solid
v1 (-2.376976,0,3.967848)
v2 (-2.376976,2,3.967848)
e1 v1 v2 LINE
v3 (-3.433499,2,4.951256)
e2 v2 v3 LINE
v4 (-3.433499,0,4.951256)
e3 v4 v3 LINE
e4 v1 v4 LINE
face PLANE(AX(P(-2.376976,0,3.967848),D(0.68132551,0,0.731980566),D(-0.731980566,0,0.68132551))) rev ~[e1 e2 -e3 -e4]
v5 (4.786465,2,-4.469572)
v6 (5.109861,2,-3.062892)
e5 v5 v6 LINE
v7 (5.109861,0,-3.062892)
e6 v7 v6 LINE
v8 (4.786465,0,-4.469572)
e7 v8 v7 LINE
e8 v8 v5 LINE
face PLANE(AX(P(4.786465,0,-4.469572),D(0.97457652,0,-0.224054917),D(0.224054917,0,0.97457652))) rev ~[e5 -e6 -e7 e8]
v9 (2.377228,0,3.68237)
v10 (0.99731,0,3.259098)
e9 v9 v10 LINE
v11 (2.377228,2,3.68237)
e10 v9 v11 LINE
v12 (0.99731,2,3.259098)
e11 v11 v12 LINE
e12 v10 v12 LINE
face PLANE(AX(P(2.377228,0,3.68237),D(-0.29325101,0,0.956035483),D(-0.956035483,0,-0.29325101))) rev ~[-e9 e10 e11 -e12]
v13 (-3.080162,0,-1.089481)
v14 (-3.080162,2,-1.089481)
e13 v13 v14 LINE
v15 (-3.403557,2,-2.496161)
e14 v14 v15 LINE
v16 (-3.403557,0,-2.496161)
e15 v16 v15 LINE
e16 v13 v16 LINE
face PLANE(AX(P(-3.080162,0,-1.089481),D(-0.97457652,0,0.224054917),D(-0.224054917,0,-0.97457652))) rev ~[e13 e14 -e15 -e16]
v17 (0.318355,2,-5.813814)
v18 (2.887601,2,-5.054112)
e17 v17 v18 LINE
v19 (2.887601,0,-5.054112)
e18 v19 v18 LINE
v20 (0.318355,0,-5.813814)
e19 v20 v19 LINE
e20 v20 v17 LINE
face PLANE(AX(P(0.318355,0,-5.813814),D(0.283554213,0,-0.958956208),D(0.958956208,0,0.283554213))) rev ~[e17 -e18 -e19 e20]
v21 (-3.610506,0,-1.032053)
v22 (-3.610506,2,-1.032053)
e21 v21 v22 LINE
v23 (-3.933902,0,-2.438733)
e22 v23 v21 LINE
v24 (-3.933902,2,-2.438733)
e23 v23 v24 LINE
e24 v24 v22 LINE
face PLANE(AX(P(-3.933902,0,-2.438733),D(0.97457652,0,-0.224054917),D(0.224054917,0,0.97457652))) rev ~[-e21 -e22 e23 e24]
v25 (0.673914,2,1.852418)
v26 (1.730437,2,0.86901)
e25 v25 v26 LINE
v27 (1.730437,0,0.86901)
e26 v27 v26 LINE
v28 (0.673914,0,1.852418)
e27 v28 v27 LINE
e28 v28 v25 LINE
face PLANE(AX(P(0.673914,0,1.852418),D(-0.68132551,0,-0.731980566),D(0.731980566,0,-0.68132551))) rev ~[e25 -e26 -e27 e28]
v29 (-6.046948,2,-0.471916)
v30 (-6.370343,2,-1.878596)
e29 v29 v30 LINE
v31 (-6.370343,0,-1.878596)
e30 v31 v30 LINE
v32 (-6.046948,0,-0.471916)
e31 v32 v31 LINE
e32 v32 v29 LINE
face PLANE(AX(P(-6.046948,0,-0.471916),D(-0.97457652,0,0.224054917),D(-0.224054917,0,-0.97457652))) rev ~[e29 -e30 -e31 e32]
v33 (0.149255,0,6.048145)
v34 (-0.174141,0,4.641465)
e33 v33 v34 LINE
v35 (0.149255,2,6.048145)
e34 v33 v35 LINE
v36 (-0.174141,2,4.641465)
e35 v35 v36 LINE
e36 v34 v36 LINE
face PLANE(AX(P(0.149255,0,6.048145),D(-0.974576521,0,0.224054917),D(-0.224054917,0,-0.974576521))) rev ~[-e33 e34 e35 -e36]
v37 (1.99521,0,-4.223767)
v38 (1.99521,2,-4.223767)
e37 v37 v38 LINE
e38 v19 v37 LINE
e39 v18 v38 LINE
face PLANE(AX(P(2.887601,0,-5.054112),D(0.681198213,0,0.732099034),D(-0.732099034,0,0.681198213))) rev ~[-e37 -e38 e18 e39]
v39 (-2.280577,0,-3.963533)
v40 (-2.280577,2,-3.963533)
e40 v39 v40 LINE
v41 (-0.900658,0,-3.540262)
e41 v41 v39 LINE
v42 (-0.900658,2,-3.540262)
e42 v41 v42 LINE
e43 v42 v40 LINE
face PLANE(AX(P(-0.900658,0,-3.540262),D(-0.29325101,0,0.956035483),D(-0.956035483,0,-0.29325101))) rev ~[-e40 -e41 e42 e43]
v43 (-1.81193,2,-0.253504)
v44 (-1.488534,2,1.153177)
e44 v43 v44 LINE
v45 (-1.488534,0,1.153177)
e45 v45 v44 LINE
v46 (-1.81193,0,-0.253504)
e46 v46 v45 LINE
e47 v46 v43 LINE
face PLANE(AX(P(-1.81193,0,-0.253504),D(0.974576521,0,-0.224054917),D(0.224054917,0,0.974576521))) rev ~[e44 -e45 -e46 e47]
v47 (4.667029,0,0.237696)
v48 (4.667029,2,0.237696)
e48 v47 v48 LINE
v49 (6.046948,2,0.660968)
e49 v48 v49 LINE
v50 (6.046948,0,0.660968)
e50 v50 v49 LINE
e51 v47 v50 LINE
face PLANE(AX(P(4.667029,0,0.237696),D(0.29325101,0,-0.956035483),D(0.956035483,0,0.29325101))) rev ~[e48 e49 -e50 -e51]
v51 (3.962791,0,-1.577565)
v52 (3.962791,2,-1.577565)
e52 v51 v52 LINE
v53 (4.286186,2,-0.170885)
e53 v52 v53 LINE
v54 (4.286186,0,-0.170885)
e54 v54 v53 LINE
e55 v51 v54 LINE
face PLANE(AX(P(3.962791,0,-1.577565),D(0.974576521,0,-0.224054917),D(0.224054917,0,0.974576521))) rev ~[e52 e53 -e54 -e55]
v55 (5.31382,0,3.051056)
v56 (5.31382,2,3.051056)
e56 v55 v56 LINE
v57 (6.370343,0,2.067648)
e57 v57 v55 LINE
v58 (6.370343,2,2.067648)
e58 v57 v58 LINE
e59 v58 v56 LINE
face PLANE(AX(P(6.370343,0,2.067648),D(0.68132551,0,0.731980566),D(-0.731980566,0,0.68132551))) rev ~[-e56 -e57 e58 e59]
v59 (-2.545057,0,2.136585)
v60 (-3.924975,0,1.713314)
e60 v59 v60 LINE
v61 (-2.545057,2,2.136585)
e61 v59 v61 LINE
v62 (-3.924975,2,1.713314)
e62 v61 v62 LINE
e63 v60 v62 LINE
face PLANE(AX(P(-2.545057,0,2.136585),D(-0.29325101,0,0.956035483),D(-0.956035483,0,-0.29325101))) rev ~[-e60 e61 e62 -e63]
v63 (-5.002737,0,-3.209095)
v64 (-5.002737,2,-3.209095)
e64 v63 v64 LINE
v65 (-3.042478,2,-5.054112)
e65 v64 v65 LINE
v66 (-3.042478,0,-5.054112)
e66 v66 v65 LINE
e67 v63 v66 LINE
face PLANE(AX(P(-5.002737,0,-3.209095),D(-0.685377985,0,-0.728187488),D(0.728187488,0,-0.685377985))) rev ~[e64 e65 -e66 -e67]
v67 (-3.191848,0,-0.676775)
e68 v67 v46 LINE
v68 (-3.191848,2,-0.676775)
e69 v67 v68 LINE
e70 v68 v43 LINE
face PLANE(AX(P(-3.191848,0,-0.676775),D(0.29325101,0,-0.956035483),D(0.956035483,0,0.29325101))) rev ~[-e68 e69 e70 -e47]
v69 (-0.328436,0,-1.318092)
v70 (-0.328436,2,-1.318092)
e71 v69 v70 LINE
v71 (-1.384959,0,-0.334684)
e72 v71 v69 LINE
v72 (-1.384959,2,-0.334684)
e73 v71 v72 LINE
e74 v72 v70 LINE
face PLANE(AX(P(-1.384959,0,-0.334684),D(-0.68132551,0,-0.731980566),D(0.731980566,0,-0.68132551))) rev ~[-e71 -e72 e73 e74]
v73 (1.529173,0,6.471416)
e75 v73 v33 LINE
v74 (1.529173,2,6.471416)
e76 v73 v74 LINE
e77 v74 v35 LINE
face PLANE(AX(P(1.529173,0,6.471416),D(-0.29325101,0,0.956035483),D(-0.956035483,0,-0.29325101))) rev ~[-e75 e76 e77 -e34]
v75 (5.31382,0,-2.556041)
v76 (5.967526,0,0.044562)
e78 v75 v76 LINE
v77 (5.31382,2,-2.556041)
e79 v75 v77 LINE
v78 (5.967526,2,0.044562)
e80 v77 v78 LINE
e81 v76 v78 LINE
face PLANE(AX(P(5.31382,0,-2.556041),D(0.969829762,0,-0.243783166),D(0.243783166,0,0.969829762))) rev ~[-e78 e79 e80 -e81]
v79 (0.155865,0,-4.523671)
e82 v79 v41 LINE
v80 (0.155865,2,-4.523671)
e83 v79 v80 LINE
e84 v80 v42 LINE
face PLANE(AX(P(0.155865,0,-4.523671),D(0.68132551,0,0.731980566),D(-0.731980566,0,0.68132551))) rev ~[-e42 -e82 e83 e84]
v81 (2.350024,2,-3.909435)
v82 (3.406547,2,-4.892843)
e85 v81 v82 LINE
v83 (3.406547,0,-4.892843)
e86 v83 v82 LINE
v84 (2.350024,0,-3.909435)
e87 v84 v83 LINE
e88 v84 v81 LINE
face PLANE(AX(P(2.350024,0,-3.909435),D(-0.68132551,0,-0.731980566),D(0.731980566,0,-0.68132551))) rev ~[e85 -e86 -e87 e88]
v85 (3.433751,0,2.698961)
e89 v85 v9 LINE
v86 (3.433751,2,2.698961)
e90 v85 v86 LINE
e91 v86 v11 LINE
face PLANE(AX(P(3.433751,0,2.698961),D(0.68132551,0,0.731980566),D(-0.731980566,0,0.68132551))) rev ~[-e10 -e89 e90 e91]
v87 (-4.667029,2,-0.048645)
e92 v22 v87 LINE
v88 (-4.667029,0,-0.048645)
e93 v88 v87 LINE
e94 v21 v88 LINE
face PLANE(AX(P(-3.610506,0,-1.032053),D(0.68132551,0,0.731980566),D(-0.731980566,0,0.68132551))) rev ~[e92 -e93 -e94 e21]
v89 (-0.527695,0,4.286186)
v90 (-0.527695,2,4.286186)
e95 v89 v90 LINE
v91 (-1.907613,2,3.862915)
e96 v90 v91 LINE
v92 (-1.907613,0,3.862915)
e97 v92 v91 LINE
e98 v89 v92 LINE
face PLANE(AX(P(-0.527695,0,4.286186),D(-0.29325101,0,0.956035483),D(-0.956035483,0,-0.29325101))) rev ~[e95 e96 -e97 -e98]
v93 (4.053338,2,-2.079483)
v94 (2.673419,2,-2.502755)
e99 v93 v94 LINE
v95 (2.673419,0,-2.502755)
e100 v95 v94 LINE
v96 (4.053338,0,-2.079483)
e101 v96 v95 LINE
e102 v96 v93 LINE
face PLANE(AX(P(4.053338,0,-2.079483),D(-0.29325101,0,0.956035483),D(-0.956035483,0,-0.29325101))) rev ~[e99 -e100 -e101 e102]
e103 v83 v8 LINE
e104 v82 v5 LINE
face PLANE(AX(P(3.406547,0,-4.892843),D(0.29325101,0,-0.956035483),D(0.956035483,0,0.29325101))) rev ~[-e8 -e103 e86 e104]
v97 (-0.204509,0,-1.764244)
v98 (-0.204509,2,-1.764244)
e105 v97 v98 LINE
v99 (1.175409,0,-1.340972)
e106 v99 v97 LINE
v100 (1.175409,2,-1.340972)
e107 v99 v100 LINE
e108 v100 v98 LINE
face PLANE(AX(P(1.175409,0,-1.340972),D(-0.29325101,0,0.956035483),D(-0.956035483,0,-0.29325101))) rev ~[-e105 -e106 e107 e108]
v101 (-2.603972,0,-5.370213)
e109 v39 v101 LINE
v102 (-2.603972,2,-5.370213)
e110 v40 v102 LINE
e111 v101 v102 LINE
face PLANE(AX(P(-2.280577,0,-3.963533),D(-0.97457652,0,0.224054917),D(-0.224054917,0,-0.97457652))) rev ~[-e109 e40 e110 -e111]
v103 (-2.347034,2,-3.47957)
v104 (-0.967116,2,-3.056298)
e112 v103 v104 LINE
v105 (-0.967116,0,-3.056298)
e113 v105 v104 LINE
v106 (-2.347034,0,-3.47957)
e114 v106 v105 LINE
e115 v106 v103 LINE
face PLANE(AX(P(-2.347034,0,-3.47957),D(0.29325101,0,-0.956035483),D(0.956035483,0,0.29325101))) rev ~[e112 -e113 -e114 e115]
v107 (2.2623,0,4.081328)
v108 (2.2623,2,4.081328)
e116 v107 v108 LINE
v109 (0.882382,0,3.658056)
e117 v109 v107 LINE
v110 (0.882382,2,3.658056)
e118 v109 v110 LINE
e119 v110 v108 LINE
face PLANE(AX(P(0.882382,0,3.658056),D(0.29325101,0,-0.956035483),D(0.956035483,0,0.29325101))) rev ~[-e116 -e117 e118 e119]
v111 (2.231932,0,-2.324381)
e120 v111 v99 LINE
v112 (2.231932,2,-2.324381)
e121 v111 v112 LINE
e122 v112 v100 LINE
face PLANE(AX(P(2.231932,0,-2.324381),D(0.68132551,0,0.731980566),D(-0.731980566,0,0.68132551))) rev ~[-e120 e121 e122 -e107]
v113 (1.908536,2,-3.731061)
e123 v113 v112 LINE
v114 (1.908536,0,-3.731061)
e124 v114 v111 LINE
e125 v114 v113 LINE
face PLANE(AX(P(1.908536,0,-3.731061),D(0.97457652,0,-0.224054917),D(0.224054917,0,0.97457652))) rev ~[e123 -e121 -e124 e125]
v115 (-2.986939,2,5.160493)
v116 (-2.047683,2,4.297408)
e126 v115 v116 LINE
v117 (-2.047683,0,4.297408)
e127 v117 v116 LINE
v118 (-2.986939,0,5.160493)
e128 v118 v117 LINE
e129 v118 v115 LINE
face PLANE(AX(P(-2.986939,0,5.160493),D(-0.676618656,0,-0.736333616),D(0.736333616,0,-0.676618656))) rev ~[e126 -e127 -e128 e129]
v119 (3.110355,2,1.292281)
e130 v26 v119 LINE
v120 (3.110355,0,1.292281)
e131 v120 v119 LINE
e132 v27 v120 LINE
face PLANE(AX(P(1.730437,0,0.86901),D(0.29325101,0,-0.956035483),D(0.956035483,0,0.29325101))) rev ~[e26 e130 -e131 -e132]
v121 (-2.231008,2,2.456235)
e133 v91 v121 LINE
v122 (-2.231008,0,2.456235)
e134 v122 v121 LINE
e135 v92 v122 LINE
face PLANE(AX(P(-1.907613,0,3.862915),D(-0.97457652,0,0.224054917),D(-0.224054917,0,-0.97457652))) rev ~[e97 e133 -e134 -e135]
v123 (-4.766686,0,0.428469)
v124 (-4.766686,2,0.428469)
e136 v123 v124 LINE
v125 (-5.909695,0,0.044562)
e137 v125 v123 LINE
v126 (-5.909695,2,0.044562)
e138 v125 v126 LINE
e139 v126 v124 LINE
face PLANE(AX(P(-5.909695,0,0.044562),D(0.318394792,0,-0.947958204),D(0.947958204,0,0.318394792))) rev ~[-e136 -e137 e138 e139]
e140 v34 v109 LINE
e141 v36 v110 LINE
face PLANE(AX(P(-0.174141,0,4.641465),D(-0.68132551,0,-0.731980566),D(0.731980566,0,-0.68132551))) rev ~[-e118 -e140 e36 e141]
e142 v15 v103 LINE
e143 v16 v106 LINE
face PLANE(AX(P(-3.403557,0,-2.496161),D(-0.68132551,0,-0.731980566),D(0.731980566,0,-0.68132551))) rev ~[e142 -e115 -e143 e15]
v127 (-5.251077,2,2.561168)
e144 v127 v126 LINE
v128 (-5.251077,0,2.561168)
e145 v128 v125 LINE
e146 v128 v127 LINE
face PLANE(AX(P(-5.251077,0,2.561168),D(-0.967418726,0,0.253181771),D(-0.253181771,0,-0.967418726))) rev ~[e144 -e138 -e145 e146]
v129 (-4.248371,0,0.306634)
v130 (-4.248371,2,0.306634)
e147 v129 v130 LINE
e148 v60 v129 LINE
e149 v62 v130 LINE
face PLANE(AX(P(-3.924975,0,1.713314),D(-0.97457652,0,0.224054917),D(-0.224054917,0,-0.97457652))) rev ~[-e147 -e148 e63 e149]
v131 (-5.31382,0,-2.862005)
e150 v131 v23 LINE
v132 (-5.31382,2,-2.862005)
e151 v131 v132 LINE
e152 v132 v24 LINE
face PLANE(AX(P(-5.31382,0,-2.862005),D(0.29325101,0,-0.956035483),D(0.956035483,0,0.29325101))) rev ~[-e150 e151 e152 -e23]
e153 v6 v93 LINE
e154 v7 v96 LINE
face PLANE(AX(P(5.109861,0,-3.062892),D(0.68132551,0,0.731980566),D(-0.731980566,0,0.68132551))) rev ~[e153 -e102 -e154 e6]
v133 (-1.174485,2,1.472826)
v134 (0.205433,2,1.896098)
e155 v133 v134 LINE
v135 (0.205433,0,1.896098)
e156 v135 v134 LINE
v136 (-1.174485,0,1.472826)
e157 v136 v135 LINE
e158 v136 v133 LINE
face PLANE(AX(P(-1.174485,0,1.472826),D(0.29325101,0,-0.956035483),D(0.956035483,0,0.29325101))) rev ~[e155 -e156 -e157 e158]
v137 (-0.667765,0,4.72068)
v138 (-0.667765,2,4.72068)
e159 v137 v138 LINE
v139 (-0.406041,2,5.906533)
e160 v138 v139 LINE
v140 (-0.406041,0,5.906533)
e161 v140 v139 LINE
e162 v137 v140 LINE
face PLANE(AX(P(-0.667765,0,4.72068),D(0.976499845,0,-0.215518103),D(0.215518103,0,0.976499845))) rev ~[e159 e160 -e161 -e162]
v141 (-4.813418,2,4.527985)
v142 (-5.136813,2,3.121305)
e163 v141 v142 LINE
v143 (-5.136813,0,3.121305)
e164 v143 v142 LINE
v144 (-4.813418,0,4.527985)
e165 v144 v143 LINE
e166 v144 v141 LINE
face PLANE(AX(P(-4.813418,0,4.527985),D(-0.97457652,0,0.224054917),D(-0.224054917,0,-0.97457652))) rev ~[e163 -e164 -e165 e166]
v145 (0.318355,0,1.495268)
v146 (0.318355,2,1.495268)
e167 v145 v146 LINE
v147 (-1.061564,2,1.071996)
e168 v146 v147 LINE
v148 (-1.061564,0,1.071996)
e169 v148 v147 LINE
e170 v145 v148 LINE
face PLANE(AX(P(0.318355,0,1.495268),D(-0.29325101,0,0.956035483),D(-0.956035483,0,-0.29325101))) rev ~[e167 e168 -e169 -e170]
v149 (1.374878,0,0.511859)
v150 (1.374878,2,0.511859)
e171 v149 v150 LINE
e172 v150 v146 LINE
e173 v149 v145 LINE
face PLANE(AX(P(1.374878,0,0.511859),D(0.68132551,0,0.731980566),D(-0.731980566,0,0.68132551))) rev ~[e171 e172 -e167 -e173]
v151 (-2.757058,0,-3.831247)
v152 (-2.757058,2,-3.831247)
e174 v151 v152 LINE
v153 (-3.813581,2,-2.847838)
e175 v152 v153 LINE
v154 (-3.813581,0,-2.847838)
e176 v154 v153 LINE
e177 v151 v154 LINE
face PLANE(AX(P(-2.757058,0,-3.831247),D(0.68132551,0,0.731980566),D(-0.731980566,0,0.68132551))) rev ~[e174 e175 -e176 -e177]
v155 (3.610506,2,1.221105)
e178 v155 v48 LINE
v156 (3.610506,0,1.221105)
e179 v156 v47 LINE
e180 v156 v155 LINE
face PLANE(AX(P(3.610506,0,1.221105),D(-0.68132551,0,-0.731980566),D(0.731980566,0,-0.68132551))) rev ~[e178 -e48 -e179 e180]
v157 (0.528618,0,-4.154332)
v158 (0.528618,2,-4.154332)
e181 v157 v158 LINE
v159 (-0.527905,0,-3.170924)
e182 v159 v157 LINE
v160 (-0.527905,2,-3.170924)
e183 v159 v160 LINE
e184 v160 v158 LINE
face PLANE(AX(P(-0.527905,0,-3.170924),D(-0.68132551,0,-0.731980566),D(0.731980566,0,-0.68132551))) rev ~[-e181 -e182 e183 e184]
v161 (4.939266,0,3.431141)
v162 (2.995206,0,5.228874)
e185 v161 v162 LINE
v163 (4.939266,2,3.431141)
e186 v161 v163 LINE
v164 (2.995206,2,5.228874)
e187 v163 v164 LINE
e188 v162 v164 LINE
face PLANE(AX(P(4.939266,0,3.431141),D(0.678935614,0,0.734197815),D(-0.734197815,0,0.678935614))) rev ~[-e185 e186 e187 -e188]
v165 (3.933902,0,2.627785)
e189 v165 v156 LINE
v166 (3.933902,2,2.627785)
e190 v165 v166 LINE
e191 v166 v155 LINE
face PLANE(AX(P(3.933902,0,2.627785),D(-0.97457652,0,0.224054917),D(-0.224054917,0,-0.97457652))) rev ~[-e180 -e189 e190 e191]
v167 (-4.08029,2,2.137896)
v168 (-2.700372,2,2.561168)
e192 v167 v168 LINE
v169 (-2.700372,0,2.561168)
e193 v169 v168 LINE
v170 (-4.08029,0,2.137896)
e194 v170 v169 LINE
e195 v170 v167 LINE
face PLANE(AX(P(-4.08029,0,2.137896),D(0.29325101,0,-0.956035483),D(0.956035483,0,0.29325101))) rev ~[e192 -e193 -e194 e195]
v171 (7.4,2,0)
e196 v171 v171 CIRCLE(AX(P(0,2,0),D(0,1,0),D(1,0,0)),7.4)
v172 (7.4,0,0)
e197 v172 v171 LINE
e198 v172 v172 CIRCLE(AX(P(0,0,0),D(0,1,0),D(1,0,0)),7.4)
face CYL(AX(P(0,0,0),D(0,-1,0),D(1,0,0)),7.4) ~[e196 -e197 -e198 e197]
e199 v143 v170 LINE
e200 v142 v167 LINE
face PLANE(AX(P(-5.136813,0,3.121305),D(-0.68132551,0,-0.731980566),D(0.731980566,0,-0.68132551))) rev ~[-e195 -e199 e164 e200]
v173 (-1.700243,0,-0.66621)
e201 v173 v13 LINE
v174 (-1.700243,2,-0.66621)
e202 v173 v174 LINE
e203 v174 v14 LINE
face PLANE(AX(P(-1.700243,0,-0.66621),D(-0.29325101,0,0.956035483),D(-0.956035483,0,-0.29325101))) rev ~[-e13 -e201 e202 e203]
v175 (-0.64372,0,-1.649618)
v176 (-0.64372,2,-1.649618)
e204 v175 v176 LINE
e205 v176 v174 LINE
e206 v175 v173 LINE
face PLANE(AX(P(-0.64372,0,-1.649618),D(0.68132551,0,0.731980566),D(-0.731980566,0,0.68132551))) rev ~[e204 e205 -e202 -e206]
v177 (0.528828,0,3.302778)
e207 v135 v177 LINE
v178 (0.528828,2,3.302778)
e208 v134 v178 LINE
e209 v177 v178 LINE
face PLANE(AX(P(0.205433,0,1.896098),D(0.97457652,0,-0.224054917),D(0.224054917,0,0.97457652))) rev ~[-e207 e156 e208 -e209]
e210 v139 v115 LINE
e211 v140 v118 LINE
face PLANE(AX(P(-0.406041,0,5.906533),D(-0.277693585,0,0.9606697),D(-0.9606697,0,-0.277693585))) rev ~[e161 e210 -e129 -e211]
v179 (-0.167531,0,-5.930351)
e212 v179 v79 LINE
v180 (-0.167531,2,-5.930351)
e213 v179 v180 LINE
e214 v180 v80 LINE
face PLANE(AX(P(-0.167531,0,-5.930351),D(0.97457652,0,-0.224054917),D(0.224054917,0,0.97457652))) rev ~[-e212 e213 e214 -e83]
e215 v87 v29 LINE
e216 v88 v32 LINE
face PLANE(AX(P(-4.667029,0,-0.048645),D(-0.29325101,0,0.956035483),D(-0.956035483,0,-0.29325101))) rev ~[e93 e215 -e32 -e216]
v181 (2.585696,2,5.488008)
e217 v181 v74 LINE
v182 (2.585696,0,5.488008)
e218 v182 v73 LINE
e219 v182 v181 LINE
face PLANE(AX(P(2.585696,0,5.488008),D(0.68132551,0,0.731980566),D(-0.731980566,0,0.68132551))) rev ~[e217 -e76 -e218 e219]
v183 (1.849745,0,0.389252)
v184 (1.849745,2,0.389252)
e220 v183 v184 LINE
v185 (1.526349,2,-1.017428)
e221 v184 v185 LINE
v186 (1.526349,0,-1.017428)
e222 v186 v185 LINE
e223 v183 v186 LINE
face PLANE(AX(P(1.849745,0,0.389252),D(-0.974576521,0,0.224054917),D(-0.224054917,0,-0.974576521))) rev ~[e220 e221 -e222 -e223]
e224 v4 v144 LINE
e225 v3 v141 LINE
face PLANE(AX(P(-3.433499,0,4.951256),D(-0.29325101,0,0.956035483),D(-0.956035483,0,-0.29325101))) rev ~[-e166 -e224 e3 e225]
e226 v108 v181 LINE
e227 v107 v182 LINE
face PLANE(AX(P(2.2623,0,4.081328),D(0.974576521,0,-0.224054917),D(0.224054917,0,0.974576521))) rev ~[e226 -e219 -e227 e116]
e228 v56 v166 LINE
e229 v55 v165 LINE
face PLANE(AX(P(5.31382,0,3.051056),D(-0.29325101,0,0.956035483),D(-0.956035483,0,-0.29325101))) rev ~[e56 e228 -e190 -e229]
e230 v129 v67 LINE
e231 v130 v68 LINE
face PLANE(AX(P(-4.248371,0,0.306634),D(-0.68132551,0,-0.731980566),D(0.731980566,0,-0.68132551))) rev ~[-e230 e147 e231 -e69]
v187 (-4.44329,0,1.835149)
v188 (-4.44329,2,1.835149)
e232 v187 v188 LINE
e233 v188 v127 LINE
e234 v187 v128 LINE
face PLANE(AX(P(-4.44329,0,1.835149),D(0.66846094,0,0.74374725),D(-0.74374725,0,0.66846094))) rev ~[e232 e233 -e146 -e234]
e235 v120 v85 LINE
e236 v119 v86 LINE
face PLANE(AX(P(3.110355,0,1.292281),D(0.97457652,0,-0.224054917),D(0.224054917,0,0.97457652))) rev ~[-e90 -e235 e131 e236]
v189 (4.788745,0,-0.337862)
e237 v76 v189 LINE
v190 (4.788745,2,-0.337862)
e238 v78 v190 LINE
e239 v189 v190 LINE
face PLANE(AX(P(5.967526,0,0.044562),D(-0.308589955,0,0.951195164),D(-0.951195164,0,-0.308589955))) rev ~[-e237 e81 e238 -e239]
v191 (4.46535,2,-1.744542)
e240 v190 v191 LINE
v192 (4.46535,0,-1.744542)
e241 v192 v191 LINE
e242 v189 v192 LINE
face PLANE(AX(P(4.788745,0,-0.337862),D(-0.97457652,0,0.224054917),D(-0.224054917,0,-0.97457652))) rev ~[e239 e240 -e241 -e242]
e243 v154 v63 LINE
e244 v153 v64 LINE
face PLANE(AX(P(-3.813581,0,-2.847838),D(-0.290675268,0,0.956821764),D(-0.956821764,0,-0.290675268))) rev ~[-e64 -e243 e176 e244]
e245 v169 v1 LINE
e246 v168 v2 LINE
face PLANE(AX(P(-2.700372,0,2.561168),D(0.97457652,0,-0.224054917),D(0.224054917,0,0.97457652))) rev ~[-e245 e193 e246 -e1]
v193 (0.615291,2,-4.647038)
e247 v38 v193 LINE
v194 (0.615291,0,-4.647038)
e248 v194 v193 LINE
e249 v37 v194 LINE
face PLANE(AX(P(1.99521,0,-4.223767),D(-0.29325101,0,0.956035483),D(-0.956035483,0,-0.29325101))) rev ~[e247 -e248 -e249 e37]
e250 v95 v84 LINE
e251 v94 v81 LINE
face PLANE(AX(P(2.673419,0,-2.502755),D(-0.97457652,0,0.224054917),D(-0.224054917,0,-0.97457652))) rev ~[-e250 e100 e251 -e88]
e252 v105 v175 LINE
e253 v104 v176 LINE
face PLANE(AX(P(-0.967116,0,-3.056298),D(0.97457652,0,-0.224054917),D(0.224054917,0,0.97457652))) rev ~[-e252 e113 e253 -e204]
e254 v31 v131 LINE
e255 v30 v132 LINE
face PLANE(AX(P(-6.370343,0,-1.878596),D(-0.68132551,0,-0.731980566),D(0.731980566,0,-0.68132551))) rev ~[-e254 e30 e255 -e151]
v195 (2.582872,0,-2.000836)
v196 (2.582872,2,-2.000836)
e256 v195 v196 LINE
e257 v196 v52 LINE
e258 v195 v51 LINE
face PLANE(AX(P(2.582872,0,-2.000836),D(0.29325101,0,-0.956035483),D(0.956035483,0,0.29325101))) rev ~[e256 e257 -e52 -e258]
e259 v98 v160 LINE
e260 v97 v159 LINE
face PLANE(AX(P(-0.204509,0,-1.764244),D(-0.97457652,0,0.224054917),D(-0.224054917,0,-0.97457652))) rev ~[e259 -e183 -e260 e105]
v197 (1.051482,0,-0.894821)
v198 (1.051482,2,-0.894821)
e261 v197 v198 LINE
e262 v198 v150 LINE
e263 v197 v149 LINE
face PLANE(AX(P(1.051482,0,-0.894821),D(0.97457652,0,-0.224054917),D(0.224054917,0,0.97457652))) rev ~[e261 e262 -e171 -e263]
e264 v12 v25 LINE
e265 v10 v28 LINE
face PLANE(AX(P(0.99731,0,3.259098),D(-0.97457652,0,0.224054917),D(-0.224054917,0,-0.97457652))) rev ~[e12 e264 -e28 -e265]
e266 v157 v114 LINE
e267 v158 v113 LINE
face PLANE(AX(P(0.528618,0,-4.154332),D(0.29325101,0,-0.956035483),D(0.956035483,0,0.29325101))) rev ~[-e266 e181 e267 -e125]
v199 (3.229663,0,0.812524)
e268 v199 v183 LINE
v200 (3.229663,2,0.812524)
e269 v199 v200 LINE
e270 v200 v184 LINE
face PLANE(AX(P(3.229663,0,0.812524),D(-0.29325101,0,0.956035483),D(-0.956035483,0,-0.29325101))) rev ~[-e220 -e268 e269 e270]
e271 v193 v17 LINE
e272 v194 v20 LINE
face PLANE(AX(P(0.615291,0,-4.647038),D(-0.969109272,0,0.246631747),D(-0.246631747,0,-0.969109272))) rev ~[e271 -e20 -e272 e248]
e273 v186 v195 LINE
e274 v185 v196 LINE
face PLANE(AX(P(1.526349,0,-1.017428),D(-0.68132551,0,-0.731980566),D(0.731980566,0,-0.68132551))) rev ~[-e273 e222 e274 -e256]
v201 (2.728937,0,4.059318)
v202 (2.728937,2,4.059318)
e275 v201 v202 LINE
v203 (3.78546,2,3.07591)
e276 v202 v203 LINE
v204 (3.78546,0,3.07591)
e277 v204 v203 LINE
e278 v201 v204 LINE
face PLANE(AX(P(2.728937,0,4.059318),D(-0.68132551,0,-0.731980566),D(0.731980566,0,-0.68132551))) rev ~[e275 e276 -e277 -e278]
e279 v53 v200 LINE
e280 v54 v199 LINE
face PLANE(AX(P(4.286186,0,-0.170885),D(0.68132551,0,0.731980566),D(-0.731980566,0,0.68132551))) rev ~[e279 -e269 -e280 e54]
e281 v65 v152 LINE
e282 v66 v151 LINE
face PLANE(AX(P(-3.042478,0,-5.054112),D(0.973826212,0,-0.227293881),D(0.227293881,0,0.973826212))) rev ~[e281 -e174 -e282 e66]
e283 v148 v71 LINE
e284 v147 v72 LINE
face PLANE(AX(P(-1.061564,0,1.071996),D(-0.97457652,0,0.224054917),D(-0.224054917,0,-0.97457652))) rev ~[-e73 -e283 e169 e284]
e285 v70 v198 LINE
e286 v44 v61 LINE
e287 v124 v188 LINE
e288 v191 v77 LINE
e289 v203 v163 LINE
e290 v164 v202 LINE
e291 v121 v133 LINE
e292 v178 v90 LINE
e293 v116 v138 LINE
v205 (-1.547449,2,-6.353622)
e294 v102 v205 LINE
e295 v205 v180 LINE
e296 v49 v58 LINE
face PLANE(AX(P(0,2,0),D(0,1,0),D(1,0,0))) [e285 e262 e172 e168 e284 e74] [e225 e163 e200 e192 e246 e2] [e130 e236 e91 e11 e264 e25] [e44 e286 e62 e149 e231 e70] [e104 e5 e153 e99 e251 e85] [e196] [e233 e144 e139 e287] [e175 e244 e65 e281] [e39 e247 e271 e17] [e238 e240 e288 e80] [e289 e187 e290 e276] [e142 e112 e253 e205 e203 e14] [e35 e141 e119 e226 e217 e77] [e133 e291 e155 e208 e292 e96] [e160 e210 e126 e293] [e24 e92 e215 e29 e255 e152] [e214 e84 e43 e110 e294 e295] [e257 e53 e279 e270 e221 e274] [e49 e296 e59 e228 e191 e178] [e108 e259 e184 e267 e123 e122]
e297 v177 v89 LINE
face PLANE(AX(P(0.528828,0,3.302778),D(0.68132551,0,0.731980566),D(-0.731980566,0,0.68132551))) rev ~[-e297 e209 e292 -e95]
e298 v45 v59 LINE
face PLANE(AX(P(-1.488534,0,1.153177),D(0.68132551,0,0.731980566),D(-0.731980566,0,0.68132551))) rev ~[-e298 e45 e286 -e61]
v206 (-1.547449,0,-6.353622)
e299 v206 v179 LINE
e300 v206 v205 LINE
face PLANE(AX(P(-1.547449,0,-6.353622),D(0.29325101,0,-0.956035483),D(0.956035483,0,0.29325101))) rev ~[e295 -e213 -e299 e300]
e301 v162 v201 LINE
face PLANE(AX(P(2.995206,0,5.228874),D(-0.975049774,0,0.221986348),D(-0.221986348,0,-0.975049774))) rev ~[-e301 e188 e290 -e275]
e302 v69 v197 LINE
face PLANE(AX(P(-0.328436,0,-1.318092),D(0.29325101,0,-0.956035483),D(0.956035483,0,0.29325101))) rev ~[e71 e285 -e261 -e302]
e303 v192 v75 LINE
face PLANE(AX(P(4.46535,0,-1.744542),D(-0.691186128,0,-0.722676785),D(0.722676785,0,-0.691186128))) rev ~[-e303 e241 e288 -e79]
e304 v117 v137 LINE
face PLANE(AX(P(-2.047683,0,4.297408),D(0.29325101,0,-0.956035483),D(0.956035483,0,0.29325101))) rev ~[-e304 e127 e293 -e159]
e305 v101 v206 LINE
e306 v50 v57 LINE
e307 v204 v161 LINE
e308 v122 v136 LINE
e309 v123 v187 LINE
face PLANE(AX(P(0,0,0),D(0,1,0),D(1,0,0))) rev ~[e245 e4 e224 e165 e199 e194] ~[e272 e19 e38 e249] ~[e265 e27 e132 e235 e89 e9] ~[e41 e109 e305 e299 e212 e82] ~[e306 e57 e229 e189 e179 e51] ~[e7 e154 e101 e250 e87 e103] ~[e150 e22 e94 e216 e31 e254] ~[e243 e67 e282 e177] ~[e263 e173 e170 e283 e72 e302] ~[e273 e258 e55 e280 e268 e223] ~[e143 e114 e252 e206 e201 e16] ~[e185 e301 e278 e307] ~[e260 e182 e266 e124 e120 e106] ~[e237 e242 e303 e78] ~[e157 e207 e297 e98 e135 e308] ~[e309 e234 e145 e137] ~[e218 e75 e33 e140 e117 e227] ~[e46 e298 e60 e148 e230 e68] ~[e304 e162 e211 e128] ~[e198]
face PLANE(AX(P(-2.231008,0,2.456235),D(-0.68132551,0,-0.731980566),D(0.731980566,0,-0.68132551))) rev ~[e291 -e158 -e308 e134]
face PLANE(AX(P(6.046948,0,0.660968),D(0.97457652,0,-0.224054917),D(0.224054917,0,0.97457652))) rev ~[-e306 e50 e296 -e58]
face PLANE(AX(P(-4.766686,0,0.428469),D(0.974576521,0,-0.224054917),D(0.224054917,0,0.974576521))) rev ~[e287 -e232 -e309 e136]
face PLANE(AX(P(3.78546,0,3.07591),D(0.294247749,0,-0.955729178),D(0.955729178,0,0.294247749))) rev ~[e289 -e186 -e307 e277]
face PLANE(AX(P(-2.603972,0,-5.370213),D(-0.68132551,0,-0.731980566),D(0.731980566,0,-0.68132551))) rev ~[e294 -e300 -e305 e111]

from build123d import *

# Parameters (mm, degrees)
SKIZZE1_R                       = 7.4
AUFSATZ_LINEAR_AUSTRAGEN2_DEPTH = 2
SCHNITT_LINEAR_AUSTRAGEN2_DEPTH = 2


with BuildPart() as part:
    # Skizze1 → Aufsatz-Linear austragen2 (new body)
    with BuildSketch(Plane(origin=(0, 0, 0), x_dir=(1, 0, 0), z_dir=(0, 1, 0))):
        Circle(SKIZZE1_R)
    extrude(amount=AUFSATZ_LINEAR_AUSTRAGEN2_DEPTH)

    # Skizze3 → Schnitt-Linear austragen2 (cut)
    with BuildSketch(Plane.XZ):
        Polygon((3.110355434, 1.292281092), (3.433750851, 2.698961133), (2.377227909, 3.6823698), (0.99730955, 3.259098426), (0.673914133, 1.852418385), (1.730437075, 0.869009718), align=None)
        Polygon((1.051482334, -0.894820995), (1.374877751, 0.511859046), (0.318354809, 1.495267713), (-1.06156355, 1.071996339), (-1.384958967, -0.334683702), (-0.328436025, -1.318092369), align=None)
        Polygon((3.962790655, -1.57756505), (4.286186071, -0.170885009), (3.229663129, 0.812523658), (1.84974477, 0.389252284), (1.526349354, -1.017427757), (2.582872296, -2.000836424), align=None)
        Polygon((1.908536497, -3.73106102), (2.231931914, -2.324380979), (1.175408972, -1.340972312), (-0.204509387, -1.764243686), (-0.527904804, -3.170923727), (0.528618138, -4.154332394), align=None)
        Polygon((-0.967115848, -3.0562984), (-0.643720431, -1.649618359), (-1.700243373, -0.666209692), (-3.080161732, -1.089481066), (-3.403557149, -2.496161107), (-2.347034207, -3.479569774), align=None)
        Polygon((-1.811929532, -0.253503523), (-1.488534116, 1.153176518), (-2.545057058, 2.136585185), (-3.924975416, 1.713313811), (-4.248370833, 0.30663377), (-3.191847891, -0.676774897), align=None)
        Polygon((0.205432908, 1.896097632), (0.528828325, 3.302777673), (-0.527694618, 4.28618634), (-1.907612976, 3.862914966), (-2.231008393, 2.456234925), (-1.174485451, 1.472826258), align=None)
        Polygon((6.04694768, 0.660967687), (6.370343097, 2.067647728), (5.313820155, 3.051056395), (3.933901796, 2.627785021), (3.610506379, 1.22110498), (4.667029321, 0.237696313), align=None)
        Polygon((4.786465264, -4.469572088), (5.109860681, -3.062892047), (4.053337739, -2.07948338), (2.67341938, -2.502754754), (2.350023963, -3.909434795), (3.406546905, -4.892843462), align=None)
        Polygon((-0.16753074, -5.930350774), (0.155864677, -4.523670733), (-0.900658265, -3.540262066), (-2.280576624, -3.96353344), (-2.603972041, -5.370213481), (-1.547449099, -6.353622148), align=None)
        Polygon((-3.933901796, -2.438733427), (-3.610506379, -1.032053386), (-4.667029321, -0.048644719), (-6.04694768, -0.471916093), (-6.370343097, -1.878596134), (-5.313820155, -2.862004801), align=None)
        Polygon((-2.700371821, 2.561167603), (-2.376976404, 3.967847644), (-3.433499346, 4.951256311), (-4.813417705, 4.527984937), (-5.136813122, 3.121304896), (-4.08029018, 2.137896229), align=None)
        Polygon((2.26230049, 4.081327536), (2.585695906, 5.488007577), (1.529172964, 6.471416244), (0.149254605, 6.04814487), (-0.174140811, 4.641464829), (0.882382131, 3.658056162), align=None)
        Polygon((4.939265844, 3.431140862), (2.995205508, 5.228874076), (2.728936611, 4.059318245), (3.785459554, 3.075909578), align=None)
        Polygon((5.313820155, -2.556040794), (5.967525742, 0.044561799), (4.788744949, -0.337862256), (4.465349532, -1.744542297), align=None)
        Polygon((0.318354809, -5.813813764), (2.887600861, -5.054112189), (1.995209721, -4.223766537), (0.615291362, -4.647037911), align=None)
        Polygon((-3.042477939, -5.054112189), (-2.757057663, -3.831247126), (-3.813580605, -2.847838459), (-5.002736834, -3.209095193), align=None)
        Polygon((-4.766685593, 0.428469167), (-4.443290177, 1.835149208), (-5.251077368, 2.561167603), (-5.909694674, 0.044561799), align=None)
        Polygon((-0.667764964, 4.720679563), (-0.406041453, 5.906533391), (-2.986939248, 5.160492623), (-2.047683323, 4.297408189), align=None)
    extrude(amount=-SCHNITT_LINEAR_AUSTRAGEN2_DEPTH, mode=Mode.SUBTRACT)


solid = part.part
